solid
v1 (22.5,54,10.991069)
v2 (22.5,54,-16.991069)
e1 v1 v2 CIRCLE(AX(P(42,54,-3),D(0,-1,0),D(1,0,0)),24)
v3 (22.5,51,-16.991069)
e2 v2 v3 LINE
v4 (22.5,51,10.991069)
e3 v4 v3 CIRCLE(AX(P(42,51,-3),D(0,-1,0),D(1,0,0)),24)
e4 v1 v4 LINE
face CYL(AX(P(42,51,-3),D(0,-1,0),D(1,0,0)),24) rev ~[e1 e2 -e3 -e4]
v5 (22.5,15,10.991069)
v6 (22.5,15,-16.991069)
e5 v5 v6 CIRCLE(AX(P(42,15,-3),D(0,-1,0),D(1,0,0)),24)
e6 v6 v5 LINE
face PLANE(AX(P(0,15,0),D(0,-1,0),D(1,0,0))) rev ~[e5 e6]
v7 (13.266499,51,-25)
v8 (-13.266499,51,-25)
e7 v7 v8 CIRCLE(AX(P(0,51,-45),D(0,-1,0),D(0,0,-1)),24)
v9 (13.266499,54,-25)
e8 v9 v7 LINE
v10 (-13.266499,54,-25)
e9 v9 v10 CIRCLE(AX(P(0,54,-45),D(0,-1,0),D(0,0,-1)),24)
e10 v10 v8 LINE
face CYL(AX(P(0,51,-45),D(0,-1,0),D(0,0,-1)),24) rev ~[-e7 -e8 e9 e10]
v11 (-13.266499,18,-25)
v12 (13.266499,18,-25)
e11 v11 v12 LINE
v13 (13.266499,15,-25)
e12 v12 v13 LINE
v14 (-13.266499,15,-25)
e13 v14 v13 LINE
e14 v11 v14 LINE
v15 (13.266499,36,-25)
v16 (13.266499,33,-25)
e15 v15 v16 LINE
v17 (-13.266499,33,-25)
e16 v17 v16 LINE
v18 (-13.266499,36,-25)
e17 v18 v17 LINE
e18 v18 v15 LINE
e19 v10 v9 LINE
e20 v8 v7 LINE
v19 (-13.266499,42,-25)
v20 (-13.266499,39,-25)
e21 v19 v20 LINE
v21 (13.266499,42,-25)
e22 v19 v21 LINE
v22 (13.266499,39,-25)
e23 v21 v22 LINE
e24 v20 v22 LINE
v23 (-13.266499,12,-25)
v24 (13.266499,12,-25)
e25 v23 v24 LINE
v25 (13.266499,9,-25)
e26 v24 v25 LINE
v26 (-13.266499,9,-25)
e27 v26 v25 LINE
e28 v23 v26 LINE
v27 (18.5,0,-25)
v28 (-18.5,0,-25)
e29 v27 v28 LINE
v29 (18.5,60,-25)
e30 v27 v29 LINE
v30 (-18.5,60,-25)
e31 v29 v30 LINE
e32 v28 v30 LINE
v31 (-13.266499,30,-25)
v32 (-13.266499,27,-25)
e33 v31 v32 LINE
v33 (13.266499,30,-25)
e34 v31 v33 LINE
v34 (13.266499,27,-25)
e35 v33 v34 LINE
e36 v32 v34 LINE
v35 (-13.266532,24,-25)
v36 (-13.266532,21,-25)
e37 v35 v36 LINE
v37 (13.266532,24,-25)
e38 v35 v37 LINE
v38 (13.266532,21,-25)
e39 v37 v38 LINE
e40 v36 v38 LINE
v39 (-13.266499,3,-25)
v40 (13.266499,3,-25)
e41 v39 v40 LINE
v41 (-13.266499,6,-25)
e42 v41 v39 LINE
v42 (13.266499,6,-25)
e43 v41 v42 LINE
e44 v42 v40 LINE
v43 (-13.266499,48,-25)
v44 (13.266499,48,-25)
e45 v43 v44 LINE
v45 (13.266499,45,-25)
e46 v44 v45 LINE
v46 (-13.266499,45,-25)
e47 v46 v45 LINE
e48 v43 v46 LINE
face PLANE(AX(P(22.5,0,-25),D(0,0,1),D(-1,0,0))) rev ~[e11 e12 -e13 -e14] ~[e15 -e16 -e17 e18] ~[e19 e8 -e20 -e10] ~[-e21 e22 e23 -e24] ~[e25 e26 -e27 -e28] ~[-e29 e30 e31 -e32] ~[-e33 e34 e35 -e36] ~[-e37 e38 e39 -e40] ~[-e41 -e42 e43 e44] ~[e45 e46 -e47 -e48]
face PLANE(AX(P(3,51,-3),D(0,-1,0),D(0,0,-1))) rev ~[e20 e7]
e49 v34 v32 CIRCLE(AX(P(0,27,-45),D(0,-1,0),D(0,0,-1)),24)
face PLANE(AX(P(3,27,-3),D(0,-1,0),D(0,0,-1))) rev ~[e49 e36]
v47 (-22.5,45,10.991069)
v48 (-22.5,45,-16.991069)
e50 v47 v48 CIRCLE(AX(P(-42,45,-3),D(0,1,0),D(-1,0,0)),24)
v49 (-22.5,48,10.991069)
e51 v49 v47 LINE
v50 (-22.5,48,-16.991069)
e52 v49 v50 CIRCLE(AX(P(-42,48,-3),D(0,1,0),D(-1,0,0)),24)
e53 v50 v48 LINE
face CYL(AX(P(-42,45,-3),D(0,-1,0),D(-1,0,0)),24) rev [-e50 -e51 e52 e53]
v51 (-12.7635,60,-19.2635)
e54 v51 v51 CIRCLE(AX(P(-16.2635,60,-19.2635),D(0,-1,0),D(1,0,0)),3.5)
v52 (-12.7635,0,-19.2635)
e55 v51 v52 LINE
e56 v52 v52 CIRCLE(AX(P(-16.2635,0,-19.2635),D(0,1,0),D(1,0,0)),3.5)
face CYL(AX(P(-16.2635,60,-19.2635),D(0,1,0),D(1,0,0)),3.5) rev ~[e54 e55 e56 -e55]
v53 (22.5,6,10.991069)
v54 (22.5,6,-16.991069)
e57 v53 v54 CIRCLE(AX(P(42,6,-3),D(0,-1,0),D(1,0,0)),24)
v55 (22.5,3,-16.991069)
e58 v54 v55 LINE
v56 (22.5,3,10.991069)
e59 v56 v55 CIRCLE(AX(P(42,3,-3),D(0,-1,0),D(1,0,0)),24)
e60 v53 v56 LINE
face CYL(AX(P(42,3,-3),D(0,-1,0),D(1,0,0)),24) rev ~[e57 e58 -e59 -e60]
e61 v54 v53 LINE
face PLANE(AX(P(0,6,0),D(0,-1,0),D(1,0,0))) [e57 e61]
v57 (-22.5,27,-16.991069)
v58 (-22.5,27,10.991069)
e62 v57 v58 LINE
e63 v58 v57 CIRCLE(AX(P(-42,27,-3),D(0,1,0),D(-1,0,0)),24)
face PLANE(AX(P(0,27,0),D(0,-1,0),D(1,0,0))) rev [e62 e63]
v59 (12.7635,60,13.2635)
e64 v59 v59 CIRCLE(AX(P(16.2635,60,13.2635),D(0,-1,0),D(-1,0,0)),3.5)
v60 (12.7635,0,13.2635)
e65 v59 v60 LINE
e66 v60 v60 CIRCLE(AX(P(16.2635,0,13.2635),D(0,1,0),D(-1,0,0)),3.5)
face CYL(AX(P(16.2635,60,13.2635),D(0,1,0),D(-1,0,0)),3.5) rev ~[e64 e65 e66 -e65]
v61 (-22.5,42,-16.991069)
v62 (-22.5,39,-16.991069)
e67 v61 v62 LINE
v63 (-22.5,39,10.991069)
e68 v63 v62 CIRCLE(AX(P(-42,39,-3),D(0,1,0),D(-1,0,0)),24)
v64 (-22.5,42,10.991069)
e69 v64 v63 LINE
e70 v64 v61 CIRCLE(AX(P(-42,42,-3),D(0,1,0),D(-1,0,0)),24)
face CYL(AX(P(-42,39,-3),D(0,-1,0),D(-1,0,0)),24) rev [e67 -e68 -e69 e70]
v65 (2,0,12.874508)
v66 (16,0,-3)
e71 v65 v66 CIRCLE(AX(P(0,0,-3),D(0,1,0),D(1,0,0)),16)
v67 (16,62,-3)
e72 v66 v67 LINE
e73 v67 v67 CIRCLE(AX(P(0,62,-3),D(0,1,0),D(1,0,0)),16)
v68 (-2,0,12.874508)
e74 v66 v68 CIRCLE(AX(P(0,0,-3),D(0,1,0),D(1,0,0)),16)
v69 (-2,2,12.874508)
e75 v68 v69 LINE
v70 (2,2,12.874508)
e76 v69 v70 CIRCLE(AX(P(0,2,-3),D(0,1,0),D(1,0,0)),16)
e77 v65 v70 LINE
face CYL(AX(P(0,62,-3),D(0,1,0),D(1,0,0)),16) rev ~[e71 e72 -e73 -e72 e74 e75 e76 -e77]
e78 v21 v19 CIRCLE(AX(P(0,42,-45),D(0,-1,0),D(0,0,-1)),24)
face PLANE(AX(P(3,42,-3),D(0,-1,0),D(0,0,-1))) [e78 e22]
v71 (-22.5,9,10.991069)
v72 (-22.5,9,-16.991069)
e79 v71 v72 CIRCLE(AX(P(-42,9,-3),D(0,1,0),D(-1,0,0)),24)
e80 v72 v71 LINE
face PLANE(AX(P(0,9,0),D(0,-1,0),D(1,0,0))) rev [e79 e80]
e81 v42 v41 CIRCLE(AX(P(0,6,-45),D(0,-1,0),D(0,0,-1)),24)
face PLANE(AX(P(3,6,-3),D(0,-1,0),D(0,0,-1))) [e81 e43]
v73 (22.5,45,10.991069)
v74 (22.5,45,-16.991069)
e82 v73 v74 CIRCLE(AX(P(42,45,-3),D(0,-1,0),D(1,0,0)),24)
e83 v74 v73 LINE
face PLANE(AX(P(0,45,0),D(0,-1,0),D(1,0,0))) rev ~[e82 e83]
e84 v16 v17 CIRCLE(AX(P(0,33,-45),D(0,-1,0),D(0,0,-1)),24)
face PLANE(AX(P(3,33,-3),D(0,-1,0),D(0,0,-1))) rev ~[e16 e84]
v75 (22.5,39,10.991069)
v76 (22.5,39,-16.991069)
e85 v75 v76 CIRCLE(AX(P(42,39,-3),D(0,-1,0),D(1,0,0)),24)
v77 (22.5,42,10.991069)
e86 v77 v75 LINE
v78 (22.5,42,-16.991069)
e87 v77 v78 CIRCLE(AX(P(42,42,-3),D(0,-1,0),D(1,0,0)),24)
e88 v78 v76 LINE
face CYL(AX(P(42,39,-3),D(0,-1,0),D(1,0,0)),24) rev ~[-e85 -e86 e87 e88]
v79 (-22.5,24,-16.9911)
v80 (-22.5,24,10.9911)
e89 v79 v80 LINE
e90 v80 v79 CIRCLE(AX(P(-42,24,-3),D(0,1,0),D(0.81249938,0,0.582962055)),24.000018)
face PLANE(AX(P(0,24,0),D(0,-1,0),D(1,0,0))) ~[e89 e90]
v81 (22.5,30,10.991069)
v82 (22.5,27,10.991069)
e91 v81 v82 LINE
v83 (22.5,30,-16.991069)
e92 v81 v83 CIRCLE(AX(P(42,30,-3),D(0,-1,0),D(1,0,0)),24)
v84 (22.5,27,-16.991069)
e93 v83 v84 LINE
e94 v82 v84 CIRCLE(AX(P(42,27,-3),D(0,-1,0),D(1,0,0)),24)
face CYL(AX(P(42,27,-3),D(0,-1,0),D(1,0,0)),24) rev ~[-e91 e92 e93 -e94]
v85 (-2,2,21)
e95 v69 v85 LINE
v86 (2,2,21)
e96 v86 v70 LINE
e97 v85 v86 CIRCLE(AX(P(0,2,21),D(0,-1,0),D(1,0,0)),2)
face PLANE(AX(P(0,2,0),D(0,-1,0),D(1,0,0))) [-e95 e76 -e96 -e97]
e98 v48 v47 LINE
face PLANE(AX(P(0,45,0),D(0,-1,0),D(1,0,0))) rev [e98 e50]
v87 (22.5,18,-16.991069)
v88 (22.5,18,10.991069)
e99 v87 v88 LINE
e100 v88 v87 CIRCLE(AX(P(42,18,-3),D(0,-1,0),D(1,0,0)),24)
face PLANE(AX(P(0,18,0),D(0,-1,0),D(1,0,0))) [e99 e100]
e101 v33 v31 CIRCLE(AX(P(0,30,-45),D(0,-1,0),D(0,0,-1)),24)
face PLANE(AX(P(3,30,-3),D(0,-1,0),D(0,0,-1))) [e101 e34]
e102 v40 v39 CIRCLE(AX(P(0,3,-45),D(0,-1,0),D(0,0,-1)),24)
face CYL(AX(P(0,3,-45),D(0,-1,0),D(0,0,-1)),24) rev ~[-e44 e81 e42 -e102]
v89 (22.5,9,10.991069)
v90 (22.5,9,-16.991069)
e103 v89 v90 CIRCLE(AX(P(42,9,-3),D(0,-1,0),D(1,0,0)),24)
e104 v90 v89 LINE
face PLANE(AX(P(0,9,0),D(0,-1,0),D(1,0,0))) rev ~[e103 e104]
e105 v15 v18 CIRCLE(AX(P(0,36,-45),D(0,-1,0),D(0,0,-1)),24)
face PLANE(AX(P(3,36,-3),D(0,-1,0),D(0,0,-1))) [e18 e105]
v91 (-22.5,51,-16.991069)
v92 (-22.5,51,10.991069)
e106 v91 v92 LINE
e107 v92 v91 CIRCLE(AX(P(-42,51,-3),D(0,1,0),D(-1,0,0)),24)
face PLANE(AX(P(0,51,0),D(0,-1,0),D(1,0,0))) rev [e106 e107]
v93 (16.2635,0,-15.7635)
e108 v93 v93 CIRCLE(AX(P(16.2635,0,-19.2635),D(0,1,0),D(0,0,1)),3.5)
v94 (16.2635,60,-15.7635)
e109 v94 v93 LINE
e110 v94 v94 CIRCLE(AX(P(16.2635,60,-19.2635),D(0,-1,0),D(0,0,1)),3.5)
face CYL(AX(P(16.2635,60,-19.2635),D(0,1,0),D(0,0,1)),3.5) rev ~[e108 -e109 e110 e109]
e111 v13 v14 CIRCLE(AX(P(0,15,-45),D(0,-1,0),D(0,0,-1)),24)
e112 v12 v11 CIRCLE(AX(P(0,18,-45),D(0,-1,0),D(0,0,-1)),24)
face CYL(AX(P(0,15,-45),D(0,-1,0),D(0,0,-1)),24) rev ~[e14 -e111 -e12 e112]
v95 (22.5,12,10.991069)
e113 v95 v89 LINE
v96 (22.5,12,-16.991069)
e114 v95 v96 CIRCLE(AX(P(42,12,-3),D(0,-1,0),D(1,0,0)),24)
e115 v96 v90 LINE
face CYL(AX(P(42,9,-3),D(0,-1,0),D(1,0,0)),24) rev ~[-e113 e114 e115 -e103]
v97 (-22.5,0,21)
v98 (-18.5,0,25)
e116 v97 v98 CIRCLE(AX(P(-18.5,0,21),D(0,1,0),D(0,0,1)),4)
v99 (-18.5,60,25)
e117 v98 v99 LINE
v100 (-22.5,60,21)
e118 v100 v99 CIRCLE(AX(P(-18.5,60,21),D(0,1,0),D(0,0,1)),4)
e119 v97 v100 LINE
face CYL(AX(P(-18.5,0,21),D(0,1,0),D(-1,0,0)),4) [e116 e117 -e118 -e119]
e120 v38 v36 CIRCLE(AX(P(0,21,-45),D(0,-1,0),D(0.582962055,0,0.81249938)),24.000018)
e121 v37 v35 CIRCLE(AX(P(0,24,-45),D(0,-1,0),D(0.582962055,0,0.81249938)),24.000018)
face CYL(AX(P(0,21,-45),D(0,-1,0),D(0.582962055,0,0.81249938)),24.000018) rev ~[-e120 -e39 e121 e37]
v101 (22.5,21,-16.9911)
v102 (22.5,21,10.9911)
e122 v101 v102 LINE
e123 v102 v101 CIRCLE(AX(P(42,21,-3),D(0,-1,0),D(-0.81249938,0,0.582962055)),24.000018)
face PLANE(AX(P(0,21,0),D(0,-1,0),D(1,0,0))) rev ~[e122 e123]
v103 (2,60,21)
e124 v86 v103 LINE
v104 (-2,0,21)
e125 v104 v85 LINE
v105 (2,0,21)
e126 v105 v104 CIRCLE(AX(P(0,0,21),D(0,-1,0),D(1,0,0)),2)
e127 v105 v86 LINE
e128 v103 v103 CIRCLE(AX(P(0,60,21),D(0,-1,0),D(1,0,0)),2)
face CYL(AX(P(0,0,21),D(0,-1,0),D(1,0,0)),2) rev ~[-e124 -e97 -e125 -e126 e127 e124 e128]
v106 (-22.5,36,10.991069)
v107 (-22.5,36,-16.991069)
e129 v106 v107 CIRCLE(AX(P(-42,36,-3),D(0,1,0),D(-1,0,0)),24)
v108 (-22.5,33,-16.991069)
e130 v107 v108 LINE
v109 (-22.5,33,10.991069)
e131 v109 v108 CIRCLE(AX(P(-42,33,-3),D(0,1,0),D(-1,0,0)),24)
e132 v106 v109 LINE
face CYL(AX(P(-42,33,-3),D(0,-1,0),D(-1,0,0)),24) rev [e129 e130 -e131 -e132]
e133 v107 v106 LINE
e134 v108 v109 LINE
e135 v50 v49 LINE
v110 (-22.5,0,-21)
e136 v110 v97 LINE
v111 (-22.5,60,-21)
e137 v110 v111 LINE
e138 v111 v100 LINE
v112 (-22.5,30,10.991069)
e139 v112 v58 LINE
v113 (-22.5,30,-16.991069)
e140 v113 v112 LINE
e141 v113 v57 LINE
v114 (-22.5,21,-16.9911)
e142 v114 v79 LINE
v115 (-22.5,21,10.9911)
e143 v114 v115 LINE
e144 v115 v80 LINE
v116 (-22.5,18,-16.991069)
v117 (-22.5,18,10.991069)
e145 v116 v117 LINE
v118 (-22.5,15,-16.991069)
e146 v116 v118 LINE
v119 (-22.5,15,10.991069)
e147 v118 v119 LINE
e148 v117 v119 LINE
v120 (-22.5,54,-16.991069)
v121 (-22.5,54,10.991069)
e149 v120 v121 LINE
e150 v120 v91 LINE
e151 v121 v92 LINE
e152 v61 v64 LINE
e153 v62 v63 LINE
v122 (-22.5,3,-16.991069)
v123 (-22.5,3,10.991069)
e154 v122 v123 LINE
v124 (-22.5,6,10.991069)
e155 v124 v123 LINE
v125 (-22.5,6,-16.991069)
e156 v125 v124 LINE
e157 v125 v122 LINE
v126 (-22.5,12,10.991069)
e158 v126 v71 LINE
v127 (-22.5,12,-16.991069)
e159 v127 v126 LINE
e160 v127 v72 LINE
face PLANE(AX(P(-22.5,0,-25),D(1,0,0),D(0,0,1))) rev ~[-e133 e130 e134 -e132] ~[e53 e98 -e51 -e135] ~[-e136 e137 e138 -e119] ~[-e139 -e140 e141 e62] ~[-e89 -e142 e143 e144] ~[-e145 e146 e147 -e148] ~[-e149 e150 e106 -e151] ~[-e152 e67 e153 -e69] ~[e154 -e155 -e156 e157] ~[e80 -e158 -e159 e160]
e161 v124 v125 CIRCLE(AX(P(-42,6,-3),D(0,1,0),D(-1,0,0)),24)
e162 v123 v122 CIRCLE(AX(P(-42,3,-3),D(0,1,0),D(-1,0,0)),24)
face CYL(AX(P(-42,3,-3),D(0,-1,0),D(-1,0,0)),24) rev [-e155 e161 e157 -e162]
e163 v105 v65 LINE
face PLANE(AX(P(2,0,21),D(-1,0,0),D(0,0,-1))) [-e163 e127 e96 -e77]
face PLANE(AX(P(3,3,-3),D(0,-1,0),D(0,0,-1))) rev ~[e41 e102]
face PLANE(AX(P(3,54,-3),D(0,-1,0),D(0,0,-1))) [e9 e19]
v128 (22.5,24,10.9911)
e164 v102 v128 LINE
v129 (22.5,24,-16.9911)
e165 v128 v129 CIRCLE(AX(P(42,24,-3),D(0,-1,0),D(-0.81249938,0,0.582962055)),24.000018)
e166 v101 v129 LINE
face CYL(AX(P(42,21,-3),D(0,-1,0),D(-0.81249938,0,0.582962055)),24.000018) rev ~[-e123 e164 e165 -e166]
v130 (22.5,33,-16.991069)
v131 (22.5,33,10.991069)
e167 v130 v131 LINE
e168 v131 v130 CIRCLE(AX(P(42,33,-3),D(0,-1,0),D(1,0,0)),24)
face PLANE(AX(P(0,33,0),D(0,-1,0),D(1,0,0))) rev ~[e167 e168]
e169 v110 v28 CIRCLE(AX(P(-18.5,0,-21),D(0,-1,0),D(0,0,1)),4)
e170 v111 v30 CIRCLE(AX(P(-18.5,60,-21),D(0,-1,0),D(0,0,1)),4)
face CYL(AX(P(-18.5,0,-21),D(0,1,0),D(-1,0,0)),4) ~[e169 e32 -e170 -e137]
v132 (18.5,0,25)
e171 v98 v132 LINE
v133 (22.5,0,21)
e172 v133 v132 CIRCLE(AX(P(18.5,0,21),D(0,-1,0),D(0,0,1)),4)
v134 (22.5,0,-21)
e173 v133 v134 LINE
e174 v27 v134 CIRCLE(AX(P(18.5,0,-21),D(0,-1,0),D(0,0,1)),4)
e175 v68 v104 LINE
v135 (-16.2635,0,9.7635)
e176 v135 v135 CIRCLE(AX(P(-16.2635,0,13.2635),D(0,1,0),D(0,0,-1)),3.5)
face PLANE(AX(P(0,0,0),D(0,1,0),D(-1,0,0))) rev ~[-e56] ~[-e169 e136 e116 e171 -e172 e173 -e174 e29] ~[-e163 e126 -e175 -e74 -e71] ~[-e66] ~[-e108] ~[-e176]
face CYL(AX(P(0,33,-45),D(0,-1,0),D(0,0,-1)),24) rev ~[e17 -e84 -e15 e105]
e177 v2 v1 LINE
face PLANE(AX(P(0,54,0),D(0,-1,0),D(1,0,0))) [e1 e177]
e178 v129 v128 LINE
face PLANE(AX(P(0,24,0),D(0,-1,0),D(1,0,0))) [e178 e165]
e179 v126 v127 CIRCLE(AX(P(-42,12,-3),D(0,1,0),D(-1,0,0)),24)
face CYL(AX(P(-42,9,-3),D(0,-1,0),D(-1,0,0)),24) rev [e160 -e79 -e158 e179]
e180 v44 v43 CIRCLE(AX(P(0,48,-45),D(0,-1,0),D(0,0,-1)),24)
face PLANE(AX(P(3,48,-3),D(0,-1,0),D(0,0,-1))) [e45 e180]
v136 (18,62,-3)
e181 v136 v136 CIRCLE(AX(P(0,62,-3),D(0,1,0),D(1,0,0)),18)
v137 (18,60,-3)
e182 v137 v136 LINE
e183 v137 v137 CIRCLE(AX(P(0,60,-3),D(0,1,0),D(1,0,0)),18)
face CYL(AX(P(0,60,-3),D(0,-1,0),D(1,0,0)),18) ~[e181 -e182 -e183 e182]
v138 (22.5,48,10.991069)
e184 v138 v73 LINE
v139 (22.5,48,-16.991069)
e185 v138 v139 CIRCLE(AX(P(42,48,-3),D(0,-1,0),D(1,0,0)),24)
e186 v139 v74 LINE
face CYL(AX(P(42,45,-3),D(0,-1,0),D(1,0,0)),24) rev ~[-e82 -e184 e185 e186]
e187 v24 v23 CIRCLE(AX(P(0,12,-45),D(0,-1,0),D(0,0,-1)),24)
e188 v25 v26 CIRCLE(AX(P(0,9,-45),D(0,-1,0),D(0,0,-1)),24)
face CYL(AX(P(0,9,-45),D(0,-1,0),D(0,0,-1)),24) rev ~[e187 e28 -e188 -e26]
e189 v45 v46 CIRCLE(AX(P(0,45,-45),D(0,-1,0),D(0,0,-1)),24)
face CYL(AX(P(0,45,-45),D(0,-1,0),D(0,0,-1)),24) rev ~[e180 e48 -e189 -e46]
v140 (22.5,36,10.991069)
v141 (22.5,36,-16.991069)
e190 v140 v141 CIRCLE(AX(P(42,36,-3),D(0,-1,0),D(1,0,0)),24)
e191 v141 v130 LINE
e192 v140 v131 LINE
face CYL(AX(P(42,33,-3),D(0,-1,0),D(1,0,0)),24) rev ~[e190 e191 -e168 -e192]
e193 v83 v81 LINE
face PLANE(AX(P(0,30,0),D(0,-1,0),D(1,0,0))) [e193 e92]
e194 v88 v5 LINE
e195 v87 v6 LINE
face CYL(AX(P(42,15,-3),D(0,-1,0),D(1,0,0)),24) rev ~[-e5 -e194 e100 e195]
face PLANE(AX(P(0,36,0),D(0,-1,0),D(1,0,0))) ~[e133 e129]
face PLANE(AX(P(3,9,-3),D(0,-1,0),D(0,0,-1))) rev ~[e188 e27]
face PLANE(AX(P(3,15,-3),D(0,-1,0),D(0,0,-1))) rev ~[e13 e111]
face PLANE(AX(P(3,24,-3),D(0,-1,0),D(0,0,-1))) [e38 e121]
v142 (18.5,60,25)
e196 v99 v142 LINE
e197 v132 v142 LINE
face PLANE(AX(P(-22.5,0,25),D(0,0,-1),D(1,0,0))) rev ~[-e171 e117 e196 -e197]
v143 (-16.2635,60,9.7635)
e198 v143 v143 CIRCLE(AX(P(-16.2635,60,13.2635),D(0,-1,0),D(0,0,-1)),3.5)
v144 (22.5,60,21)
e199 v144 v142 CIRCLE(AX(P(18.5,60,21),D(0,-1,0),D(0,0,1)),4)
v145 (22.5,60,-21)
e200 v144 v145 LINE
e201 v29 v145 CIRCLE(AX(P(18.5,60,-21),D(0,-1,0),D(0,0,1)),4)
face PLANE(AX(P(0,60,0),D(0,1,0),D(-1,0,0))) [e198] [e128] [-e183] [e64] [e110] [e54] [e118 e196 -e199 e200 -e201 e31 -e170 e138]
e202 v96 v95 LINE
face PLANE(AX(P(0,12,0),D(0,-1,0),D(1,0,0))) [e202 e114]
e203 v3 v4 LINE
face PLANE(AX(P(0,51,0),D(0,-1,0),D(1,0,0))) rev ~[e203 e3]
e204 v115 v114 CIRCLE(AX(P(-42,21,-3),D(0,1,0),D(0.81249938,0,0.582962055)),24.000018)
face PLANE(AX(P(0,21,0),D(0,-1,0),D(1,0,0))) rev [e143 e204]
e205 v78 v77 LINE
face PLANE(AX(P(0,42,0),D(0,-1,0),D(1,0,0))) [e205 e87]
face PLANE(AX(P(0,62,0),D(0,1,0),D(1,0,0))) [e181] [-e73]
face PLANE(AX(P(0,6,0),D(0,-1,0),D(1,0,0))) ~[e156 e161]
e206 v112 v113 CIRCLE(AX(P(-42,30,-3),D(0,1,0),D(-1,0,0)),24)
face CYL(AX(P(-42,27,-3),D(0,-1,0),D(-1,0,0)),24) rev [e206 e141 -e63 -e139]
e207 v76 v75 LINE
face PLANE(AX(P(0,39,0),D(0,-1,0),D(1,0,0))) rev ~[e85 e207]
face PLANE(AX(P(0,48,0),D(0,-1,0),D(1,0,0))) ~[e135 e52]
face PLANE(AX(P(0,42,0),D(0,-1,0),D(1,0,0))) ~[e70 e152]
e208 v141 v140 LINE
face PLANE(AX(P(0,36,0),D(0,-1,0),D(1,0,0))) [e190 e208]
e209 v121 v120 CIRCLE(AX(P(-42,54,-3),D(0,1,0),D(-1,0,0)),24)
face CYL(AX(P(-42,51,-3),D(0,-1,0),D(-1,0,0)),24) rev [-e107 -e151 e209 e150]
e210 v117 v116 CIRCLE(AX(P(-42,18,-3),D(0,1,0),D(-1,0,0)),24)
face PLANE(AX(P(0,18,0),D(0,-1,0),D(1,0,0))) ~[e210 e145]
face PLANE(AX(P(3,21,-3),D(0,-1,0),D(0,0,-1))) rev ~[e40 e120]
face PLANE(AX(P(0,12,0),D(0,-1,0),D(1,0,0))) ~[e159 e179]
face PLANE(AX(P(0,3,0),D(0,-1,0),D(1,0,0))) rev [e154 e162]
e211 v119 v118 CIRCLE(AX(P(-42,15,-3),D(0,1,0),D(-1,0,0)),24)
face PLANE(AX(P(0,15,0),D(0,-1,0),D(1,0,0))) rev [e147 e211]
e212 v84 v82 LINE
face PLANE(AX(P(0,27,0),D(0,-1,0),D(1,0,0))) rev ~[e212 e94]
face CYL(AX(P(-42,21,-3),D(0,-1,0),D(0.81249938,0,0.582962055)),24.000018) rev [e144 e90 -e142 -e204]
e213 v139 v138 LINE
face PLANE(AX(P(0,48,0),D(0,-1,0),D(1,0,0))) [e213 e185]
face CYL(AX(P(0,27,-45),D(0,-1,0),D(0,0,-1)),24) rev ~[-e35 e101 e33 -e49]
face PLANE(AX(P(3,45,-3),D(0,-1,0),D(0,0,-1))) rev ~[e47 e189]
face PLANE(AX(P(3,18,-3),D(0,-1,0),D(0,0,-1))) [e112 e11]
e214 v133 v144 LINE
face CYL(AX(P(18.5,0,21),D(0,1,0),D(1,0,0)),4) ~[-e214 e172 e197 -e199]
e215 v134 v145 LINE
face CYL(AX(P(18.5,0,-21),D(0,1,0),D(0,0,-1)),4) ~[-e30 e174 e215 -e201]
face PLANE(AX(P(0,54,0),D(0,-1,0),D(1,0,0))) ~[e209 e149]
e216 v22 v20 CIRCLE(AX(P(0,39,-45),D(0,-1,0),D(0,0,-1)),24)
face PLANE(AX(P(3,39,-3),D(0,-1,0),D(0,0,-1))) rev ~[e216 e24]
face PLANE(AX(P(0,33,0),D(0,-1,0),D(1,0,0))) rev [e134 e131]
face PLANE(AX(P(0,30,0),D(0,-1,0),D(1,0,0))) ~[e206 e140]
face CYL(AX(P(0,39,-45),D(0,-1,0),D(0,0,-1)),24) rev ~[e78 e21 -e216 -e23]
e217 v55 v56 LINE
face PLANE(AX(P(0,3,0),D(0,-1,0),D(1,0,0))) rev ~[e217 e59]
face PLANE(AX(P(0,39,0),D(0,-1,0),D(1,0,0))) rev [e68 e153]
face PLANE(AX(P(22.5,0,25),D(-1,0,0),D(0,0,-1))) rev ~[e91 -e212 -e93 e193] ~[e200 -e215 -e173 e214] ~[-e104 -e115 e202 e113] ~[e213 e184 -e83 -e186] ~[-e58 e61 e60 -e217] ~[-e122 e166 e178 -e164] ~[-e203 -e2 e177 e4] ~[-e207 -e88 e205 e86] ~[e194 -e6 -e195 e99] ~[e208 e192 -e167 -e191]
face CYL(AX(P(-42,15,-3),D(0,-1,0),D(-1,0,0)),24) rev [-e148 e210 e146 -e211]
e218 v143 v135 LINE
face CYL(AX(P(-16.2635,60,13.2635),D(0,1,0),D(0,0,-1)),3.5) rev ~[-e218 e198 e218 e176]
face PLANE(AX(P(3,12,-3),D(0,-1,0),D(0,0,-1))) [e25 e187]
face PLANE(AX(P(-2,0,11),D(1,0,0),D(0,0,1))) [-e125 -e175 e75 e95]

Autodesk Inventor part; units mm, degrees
sketch "Sketch1" plane through (0, 0, 0) normal (0, 1, 0) x (-1, 0, 0)
  line L0 (22.5, 25) -> (-22.5, 25)
  line L1 (-22.5, 25) -> (-22.5, -25)
  line L2 (-22.5, -25) -> (22.5, -25)
  line L3 (22.5, -25) -> (22.5, 25)
  line L4 (22.5, 25) -> (-22.5, -25) construction
  line L5 (-22.5, 25) -> (22.5, -25) construction
  point P0 (0, 0)
  dimension "d0" = 45
  dimension "d1" = 50
extrude "Extrusion1" add sketch "Sketch1" along normal blind 60
fillet "Fillet1" radius 4 4 edges at (22.5, 30, 25) (-22.5, 30, 25) (22.5, 30, -25) (-22.5, 30, -25)
sketch "Sketch2" plane through (0, 60, 0) normal (0, 1, 0) x (1, 0, 0)
  circle A0 centre (0, 3) radius 16
  point P0 (0, 0)
  dimension "d5" = 32
  dimension "d109" = 3
extrude "Extrusion2" cut sketch "Sketch2" against normal blind 60
ref_plane "Work Plane3" through (0, 3, 0) normal (0, -1, 0) x (1, 0, 0)
sketch "Sketch13" plane through (0, 3, 0) normal (0, -1, 0) x (1, 0, 0)
  circle A0 centre (42, -3) radius 24
  point P0 (0, 0)
  dimension "d27" = 48
extrude "Extrusion7" cut sketch "Sketch13" against normal blind 3
ref_plane "Work Plane4" through (0, 9, 0) normal (0, -1, 0) x (1, 0, 0)
sketch "Sketch14" plane through (0, 9, 0) normal (0, -1, 0) x (1, 0, 0)
  circle A0 centre (42, -3) radius 24
  point P0 (0, 0)
  dimension "d34" = 48
extrude "Extrusion8" cut sketch "Sketch14" against normal blind 3
ref_plane "Work Plane12" through (0, 15, 0) normal (0, -1, 0) x (1, 0, 0)
sketch "Sketch15" plane through (0, 15, 0) normal (0, -1, 0) x (1, 0, 0)
  circle A0 centre (42, -3) radius 24
  point P0 (0, 0)
  dimension "d41" = 48
extrude "Extrusion9" cut sketch "Sketch15" against normal blind 3
ref_plane "Work Plane13" through (0, 21, 0) normal (0, -1, 0) x (1, 0, 0)
sketch "Sketch16" plane through (0, 21, 0) normal (0, -1, 0) x (1, 0, 0)
  arc A0 (22.5, 10.9911) -> (22.5, -16.9911) centre (42, -3) ccw projected
  circle A1 centre (42, -3) radius 24
  point P0 (0, 0)
  point P1 (22.5, -16.9911)
  dimension "d45" = 48
extrude "Extrusion10" cut sketch "Sketch16" against normal blind 3
ref_plane "Work Plane14" through (0, 27, 0) normal (0, -1, 0) x (1, 0, 0)
sketch "Sketch17" plane through (0, 27, 0) normal (0, -1, 0) x (1, 0, 0)
  circle A0 centre (42, -3) radius 24
  point P0 (0, 0)
  dimension "d49" = 48
extrude "Extrusion11" cut sketch "Sketch17" against normal blind 3
ref_plane "Work Plane15" through (0, 33, 0) normal (0, -1, 0) x (1, 0, 0)
sketch "Sketch18" plane through (0, 33, 0) normal (0, -1, 0) x (1, 0, 0)
  circle A0 centre (42, -3) radius 24
  point P0 (0, 0)
  dimension "d53" = 48
extrude "Extrusion12" cut sketch "Sketch18" against normal blind 3
ref_plane "Work Plane16" through (0, 39, 0) normal (0, -1, 0) x (1, 0, 0)
sketch "Sketch19" plane through (0, 39, 0) normal (0, -1, 0) x (1, 0, 0)
  circle A0 centre (42, -3) radius 24
  point P0 (0, 0)
  dimension "d57" = 48
extrude "Extrusion13" cut sketch "Sketch19" against normal blind 3
ref_plane "Work Plane17" through (0, 45, 0) normal (0, -1, 0) x (1, 0, 0)
sketch "Sketch20" plane through (0, 45, 0) normal (0, -1, 0) x (1, 0, 0)
  circle A0 centre (42, -3) radius 24
  point P0 (0, 0)
  dimension "d61" = 48
extrude "Extrusion14" cut sketch "Sketch20" against normal blind 3
ref_plane "Work Plane18" through (0, 51, 0) normal (0, -1, 0) x (1, 0, 0)
sketch "Sketch21" plane through (0, 51, 0) normal (0, -1, 0) x (1, 0, 0)
  circle A0 centre (42, -3) radius 24
  point P0 (0, 0)
  dimension "d65" = 48
extrude "Extrusion15" cut sketch "Sketch21" against normal blind 3
mirror "Mirror1" about plane through (0, 0, 0) normal (1, 0, 0) of "Extrusion7", "Extrusion8", "Extrusion9", "Extrusion10", "Extrusion11", "Extrusion12", "Extrusion13", "Extrusion14", "Extrusion15"
pattern_circular "Circular Pattern3" count 2 over 90 about axis through (0, 60, -3) along (0, 1, 0) of "Extrusion15", "Extrusion14", "Extrusion13", "Extrusion12", "Extrusion11", "Extrusion10", "Extrusion9", "Extrusion8", "Extrusion7"
sketch "Sketch22" plane through (0, 0, 0) normal (0, -1, 0) x (1, 0, 0)
  line L0 (2, 11) -> (-2, 11)
  line L1 (-2, 11) -> (-2, 21)
  line L2 (-2, 21) -> (2, 21)
  line L3 (2, 21) -> (2, 11)
  line L4 (2, 11) -> (-2, 21) construction
  line L5 (-2, 11) -> (2, 21) construction
  point P0 (0, 0)
  point P1 (0, 16)
  dimension "d74" = 4
  dimension "d75" = 10
extrude "Extrusion16" cut sketch "Sketch22" against normal blind 2
sketch "Sketch23" plane through (0, 0, 0) normal (0, -1, 0) x (1, 0, 0)
  line L0 (0, 0) -> (0, 21)
  line L1 (-2, 12.8745) -> (-2, 21) projected
sketch "Sketch24" plane through (0, 0, 0) normal (0, -1, 0) x (1, 0, 0)
  circle A0 centre (0, 21) radius 2
  point P0 (0, 0)
  dimension "d78" = 4
extrude "Extrusion17" cut sketch "Sketch24" against normal blind 62
sketch "Sketch25" plane through (0, 0, 21) normal (0, -1, 0) x (1, 0, 0)
  point P0 (0, -21)
sketch "Sketch27" plane through (0, 60, 0) normal (0, 1, 0) x (1, 0, 0)
  line L0 (0, 3) -> (-16.2635, 19.2635)
  line L1 (0, 3) -> (23, 3) construction
  circle A0 centre (-16.2635, 19.2635) radius 3.5
  point P0 (0, 0)
  dimension "d91" = 23
  dimension "d92" = 135
  dimension "d93" = 7
extrude "Extrusion18" cut sketch "Sketch27" against normal blind 60
pattern_circular "Circular Pattern5" count 4 over 360 about axis through (0, 60, -3) along (0, -1, 0) of "Extrusion18"
sketch "Sketch30" plane through (0, 60, 0) normal (0, 1, 0) x (1, 0, 0)
  circle A0 centre (0, 3) radius 18
  point P0 (0, 0)
  dimension "d110" = 36
extrude "Extrusion21" add sketch "Sketch30" along normal blind 2
sketch "Sketch31" plane through (0, 62, -3) normal (0, 1, 0) x (1, 0, 0)
  circle A0 centre (0, 0) radius 16
  point P0 (0, -3)
  dimension "d113" = 32
extrude "Extrusion22" cut sketch "Sketch31" against normal blind 2
properties part number "cylinder incomplete"
